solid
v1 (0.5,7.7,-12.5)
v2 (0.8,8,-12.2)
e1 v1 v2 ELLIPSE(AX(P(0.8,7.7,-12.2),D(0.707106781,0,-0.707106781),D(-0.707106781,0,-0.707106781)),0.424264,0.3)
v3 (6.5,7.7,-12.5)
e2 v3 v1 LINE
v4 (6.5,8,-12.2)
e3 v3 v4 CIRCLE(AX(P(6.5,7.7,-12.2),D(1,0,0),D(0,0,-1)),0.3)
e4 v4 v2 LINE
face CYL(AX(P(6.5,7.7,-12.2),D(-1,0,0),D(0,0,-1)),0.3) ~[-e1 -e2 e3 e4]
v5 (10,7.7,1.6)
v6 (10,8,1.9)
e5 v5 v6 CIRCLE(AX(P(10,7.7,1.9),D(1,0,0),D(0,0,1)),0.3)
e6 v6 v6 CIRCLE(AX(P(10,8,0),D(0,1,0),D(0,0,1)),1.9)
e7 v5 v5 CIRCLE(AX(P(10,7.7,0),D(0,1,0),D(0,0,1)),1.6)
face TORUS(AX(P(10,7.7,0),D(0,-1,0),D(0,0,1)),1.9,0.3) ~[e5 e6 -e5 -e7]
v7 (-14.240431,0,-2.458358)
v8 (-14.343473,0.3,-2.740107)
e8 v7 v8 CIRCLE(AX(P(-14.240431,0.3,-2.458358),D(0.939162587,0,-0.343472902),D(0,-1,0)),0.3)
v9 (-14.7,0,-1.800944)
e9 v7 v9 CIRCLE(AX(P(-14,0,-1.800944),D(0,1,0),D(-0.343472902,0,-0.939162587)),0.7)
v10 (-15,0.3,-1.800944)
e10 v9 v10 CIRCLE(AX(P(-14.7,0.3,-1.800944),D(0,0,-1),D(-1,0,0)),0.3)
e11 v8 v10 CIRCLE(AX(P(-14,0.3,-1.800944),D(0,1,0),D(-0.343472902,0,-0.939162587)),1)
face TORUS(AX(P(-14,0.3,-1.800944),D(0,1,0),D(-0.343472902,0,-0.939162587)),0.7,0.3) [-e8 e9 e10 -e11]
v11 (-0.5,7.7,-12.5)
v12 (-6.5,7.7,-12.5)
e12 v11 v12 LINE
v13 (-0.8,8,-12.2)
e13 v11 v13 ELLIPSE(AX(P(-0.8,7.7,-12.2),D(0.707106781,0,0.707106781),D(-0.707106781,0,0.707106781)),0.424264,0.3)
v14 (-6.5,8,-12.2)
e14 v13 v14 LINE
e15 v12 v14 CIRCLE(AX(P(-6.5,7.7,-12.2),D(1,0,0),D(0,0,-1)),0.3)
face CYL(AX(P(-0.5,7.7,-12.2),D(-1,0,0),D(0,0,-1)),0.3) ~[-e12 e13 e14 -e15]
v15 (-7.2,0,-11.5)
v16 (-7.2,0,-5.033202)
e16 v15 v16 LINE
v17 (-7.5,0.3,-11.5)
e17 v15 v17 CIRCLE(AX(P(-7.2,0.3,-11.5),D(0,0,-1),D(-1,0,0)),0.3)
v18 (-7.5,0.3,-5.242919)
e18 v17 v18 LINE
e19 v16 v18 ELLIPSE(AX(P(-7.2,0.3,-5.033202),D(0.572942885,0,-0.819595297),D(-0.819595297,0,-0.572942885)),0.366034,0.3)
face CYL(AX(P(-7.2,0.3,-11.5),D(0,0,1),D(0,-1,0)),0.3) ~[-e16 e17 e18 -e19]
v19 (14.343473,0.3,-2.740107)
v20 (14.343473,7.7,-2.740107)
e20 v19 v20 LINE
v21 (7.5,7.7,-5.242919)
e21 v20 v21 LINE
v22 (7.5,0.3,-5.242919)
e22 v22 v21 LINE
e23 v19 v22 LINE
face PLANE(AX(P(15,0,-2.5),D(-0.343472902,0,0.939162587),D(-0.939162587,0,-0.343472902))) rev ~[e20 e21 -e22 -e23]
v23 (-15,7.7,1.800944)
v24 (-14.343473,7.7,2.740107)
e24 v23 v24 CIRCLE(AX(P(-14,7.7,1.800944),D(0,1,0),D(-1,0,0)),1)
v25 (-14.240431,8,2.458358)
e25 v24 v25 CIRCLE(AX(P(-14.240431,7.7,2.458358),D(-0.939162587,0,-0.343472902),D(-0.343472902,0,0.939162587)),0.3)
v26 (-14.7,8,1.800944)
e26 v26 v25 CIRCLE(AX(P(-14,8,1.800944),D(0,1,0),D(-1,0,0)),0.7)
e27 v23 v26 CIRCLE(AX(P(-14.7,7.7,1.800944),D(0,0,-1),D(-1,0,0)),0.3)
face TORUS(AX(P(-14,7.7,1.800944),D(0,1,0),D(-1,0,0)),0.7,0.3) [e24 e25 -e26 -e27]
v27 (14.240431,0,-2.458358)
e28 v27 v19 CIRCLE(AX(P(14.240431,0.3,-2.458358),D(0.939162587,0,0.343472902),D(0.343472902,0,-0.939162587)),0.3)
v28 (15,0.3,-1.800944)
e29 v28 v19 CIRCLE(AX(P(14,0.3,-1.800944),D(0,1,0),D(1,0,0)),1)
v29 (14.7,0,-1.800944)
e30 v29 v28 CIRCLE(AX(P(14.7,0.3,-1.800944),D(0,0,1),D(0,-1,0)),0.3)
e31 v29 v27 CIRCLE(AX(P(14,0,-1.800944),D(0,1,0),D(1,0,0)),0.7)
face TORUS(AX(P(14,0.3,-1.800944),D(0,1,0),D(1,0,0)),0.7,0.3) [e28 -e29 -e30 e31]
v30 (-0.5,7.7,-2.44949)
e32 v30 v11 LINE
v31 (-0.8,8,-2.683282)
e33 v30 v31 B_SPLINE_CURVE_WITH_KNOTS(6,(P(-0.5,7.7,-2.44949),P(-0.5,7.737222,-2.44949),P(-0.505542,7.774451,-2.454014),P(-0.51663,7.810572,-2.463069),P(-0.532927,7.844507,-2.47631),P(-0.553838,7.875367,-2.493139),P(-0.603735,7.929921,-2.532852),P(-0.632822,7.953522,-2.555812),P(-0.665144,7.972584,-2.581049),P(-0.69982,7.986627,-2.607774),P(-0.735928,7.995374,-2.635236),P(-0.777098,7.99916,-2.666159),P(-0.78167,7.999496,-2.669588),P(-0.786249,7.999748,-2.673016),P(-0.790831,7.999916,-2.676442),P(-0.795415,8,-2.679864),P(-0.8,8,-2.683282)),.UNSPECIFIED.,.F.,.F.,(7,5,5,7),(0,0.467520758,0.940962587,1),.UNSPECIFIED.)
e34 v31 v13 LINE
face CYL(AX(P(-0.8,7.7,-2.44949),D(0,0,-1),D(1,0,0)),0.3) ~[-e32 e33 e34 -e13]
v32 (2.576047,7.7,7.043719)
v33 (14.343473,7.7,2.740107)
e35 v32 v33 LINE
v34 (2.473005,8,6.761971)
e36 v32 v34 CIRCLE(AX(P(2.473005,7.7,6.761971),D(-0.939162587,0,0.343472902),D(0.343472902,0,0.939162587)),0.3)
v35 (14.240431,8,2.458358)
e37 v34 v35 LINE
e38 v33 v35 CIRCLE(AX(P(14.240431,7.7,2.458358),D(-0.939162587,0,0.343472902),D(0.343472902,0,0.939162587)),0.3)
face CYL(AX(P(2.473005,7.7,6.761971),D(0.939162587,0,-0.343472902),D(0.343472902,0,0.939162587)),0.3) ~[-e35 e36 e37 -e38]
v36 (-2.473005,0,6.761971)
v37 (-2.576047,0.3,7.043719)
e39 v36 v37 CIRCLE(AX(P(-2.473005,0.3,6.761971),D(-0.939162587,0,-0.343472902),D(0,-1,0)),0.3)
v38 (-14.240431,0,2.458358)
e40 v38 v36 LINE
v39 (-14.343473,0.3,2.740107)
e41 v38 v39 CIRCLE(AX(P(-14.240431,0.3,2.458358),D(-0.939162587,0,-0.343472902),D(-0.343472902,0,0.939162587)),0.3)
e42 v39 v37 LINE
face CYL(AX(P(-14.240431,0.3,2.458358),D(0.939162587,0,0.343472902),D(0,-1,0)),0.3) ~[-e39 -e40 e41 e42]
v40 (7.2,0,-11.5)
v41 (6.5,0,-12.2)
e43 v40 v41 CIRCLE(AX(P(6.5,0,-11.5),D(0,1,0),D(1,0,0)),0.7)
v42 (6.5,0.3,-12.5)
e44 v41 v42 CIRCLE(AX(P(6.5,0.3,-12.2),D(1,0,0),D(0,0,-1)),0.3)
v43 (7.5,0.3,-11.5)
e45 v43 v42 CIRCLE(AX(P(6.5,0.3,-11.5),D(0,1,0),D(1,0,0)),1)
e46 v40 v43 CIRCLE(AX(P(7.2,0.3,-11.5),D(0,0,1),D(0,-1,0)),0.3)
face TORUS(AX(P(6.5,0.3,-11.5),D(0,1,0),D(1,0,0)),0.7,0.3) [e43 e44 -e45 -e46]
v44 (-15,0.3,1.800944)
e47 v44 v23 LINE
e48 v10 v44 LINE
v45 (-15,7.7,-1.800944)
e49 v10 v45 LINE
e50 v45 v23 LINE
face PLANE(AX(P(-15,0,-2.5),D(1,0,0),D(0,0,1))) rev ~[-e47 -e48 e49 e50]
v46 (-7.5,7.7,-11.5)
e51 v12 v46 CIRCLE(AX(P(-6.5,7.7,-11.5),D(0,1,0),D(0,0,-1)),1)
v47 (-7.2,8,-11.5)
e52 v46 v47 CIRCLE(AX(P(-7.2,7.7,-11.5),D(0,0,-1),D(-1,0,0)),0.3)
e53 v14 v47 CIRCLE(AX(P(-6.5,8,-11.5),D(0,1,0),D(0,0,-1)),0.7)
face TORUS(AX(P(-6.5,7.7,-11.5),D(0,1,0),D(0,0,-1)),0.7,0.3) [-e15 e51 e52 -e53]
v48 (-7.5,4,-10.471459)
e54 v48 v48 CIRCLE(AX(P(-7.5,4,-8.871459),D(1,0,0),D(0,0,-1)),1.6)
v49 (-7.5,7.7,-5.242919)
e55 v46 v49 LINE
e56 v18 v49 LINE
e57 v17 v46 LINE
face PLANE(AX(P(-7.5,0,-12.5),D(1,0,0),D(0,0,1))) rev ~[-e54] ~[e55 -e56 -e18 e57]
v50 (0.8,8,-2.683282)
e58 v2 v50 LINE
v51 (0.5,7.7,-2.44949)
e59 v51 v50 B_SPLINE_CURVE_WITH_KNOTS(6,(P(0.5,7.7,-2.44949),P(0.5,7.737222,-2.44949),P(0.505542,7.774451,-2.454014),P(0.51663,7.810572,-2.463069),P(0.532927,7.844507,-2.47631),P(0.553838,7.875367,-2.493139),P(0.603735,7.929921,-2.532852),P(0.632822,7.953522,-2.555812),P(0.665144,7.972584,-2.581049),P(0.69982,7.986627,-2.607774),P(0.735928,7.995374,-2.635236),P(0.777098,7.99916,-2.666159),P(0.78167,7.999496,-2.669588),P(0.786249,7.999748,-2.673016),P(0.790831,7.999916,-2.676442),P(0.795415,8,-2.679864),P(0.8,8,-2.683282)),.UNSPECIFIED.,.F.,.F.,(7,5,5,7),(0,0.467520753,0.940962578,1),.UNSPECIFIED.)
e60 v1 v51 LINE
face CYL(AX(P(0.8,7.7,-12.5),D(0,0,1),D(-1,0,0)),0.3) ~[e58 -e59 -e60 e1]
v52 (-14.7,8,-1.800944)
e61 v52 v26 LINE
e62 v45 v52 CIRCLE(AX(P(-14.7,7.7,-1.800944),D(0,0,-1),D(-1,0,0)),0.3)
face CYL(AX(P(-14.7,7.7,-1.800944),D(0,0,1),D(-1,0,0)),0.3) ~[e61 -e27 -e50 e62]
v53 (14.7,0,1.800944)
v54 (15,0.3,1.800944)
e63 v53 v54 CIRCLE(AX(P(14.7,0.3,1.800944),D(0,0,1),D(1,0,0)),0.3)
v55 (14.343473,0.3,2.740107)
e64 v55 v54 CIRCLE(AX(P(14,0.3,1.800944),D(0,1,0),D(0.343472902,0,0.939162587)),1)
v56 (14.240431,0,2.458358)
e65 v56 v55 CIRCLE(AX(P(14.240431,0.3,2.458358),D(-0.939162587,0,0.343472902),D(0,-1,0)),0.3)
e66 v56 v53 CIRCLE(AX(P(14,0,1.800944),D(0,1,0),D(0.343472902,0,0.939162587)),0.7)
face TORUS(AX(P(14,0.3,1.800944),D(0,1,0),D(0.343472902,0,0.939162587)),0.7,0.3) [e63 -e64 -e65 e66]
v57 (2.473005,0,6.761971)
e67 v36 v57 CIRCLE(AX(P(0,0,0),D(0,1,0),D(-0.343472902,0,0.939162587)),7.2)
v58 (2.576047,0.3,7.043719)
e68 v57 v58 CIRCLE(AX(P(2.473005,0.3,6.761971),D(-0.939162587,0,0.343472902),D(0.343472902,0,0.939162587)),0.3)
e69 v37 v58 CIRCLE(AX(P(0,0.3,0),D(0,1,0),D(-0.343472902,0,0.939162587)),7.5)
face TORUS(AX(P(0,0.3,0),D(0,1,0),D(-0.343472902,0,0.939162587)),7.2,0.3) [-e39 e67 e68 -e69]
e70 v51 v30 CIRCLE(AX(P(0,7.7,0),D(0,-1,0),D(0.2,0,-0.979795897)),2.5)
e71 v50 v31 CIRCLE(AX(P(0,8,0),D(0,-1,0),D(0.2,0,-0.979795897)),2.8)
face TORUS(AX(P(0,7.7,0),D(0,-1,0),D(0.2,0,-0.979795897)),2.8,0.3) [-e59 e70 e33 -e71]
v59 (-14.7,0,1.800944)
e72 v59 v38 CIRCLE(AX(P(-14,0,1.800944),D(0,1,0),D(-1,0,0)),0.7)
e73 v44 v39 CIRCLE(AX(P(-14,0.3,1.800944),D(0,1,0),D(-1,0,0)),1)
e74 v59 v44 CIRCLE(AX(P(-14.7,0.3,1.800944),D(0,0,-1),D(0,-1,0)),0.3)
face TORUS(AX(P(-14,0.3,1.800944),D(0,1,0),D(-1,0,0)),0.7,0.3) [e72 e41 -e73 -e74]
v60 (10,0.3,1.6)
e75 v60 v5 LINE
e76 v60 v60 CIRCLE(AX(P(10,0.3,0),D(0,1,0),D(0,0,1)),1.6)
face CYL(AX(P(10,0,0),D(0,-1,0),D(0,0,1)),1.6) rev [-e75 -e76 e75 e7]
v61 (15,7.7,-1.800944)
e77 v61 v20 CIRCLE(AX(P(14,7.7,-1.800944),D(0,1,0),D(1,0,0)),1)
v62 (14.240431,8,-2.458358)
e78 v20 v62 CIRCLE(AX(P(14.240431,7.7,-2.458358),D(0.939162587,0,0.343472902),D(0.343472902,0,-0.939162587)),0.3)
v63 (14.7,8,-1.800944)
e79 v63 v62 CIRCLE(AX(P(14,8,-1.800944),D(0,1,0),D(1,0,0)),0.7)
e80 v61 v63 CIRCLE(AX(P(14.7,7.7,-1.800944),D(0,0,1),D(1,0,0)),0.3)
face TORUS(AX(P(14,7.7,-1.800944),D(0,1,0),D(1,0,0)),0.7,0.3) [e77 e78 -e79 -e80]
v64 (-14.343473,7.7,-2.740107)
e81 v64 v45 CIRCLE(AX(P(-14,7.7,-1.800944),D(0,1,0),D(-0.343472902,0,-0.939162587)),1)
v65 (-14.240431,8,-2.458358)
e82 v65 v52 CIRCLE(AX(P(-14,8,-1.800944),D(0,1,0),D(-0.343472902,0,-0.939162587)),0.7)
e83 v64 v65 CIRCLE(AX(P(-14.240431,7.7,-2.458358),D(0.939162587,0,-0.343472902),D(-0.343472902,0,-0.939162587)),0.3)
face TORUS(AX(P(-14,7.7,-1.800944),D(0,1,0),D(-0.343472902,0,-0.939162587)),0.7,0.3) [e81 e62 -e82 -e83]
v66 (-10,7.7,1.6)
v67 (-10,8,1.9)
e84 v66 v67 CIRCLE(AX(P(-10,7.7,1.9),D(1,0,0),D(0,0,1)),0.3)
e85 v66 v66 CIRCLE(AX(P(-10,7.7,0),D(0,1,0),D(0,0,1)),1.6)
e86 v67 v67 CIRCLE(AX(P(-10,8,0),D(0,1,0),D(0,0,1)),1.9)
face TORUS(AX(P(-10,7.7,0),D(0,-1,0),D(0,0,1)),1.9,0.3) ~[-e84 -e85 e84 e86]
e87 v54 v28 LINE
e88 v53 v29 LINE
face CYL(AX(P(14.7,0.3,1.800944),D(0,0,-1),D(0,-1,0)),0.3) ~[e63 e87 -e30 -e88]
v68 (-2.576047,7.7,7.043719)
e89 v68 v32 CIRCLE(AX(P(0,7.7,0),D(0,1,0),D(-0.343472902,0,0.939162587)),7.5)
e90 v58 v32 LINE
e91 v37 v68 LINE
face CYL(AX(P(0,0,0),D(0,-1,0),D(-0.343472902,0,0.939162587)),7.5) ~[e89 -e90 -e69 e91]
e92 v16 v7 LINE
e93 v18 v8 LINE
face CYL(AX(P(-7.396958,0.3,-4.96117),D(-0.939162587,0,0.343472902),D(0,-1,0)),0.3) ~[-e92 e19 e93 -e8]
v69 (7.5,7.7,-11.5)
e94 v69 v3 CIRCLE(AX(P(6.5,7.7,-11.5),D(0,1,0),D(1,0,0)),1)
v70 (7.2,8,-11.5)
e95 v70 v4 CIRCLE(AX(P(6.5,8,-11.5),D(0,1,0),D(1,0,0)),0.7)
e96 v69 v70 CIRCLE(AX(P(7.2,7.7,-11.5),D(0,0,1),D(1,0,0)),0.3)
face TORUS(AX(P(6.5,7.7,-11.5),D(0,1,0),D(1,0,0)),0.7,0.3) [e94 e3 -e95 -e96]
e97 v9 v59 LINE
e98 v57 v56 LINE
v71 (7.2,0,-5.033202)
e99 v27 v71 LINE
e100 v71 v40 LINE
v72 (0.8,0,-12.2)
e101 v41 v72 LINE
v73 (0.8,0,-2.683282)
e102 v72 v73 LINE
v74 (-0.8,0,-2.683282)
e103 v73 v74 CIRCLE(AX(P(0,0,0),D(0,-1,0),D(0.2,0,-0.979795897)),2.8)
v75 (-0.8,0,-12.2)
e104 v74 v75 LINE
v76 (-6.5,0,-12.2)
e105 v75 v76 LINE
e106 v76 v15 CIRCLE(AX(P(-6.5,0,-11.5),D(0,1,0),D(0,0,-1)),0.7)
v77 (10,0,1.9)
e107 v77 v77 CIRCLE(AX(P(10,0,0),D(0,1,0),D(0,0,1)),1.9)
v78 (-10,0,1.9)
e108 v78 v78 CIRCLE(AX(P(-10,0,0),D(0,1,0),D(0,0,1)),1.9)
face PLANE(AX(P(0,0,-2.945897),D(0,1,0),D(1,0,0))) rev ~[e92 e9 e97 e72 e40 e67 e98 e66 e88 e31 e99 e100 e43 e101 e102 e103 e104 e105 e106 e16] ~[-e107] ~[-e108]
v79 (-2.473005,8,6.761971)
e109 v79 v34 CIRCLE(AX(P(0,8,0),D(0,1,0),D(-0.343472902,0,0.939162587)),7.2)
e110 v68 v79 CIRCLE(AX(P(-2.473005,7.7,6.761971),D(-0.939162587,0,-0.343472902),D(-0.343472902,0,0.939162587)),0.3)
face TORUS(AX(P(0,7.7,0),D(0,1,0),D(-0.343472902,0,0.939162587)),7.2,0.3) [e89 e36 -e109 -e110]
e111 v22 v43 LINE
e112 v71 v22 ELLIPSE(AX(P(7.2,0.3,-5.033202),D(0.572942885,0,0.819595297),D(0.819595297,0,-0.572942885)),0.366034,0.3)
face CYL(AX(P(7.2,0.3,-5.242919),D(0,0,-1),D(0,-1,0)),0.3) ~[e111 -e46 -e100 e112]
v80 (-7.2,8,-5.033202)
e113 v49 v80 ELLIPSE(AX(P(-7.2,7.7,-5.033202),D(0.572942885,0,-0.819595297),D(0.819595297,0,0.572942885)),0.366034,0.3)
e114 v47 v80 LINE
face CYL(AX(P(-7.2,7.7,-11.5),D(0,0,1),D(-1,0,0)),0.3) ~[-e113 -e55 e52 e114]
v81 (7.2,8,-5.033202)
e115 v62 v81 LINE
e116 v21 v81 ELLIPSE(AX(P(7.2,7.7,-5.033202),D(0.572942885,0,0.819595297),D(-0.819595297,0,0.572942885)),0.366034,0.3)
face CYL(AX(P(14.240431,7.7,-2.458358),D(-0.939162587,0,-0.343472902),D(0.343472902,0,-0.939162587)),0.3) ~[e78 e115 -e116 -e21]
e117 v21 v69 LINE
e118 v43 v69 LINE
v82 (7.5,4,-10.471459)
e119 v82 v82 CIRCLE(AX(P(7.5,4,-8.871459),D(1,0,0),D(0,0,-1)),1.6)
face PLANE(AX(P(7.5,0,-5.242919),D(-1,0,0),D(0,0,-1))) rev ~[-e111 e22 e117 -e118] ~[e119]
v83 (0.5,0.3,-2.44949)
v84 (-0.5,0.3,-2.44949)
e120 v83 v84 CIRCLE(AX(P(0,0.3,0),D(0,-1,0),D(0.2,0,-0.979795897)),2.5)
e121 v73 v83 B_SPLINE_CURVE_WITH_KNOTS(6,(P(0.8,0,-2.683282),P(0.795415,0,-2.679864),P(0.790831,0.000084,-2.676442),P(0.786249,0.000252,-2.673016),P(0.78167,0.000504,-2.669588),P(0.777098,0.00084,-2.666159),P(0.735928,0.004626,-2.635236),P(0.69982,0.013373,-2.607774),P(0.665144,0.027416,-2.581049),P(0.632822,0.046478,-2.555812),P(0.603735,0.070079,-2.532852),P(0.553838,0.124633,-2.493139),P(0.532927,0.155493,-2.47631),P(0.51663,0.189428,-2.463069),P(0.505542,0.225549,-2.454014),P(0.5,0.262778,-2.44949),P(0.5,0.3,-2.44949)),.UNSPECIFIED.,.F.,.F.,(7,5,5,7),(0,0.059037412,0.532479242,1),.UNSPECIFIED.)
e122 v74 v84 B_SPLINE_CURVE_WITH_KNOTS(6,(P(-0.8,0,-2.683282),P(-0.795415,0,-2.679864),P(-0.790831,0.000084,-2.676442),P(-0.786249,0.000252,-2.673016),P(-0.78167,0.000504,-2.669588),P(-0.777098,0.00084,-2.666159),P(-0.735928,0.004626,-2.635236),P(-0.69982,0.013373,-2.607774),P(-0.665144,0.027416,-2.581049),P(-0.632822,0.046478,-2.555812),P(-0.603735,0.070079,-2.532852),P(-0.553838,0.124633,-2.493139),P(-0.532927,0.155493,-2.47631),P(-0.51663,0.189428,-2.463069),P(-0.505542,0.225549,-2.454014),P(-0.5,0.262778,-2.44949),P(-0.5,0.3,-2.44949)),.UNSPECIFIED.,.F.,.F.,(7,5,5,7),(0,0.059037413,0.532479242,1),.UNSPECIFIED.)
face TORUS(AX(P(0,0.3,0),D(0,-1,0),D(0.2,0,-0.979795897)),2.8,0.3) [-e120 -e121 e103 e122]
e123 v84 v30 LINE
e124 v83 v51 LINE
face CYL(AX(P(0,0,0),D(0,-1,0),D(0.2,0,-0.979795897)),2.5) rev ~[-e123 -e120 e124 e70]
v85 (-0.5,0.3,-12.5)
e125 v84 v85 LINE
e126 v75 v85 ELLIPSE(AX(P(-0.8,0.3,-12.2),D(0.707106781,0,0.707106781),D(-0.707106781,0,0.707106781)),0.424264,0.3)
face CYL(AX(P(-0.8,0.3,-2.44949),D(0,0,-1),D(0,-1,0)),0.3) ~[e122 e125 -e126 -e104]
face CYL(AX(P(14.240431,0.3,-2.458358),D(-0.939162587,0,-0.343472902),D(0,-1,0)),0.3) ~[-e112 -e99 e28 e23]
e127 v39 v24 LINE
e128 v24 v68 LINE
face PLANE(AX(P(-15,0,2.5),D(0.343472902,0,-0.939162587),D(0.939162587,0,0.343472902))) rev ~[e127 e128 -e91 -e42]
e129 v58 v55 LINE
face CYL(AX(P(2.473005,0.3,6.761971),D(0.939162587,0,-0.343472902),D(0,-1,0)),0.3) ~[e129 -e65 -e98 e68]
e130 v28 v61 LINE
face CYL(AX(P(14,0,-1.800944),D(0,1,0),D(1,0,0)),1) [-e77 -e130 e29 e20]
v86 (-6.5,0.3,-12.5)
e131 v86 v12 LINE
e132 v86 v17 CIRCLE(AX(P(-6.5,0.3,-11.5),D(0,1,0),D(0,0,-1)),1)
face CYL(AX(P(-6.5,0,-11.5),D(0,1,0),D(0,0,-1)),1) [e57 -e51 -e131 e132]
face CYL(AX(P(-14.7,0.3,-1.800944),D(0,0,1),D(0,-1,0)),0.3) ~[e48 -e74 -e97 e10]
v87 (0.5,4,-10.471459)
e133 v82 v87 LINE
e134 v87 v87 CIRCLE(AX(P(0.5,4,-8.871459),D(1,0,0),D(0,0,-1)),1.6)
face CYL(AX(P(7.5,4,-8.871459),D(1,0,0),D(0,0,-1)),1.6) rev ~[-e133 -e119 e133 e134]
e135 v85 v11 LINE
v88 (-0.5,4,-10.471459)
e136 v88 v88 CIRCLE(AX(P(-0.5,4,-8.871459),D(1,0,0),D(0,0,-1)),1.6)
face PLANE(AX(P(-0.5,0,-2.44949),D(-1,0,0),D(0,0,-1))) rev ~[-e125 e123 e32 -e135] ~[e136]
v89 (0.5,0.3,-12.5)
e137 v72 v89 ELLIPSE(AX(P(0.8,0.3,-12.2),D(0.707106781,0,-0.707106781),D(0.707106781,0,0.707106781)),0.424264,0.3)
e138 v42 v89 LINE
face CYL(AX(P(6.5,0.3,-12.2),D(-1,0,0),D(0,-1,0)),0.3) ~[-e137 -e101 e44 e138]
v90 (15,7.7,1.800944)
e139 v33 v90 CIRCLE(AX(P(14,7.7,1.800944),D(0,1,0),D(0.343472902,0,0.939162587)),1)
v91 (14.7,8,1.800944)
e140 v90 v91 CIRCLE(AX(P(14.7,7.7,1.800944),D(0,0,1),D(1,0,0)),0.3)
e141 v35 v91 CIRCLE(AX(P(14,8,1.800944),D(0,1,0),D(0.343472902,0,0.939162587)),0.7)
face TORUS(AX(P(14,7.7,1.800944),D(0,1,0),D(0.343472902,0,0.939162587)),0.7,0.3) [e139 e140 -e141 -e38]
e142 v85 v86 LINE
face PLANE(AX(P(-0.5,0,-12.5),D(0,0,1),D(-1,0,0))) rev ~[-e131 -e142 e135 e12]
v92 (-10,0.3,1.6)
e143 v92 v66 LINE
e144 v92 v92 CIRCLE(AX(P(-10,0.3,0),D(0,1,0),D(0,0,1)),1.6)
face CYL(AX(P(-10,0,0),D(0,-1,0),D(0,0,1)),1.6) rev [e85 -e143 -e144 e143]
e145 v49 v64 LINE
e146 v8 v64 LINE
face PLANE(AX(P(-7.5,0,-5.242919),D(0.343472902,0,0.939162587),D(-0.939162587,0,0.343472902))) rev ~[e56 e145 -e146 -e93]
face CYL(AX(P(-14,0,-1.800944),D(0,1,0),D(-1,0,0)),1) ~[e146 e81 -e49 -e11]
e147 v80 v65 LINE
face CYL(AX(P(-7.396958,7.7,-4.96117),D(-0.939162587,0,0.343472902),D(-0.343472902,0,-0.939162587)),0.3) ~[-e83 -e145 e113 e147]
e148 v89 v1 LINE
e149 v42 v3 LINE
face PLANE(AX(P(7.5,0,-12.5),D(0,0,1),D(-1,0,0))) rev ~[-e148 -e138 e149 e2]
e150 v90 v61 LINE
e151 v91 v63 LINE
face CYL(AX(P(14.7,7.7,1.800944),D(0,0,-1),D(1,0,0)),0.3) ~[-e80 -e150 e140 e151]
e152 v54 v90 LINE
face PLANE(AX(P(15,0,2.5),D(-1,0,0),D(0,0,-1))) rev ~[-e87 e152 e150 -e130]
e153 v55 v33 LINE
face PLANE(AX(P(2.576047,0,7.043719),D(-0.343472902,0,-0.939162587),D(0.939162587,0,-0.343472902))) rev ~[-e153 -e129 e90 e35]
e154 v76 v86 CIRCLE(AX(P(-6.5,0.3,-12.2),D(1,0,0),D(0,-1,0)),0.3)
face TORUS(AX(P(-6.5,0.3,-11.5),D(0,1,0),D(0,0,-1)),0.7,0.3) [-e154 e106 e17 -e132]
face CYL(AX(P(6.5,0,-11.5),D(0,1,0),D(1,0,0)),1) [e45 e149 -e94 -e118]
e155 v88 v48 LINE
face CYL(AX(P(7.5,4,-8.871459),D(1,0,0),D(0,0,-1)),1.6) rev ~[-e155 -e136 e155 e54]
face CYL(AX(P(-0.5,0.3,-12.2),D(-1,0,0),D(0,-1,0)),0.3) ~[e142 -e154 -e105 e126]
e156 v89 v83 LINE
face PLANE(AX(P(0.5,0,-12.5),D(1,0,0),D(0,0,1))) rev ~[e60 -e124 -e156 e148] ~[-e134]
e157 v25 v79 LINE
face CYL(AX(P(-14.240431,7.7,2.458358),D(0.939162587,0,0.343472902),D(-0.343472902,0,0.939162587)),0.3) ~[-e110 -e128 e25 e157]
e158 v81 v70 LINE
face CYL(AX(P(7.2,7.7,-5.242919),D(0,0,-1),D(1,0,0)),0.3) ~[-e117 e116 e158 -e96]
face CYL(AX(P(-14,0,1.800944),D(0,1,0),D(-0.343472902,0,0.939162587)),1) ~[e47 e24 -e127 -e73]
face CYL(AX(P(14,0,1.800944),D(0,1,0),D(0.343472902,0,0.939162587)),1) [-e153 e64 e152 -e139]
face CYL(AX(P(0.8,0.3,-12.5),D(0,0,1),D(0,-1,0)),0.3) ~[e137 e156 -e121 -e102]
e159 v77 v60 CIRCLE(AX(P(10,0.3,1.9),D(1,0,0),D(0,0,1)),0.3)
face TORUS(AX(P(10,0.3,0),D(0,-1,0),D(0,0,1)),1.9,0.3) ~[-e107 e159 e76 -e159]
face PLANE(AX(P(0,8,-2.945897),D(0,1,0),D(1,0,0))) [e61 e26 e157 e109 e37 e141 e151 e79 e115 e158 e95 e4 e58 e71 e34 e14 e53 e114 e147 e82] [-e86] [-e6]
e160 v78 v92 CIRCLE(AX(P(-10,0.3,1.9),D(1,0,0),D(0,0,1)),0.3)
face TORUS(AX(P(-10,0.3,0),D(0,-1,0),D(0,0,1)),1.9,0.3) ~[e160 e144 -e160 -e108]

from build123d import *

# Parameters (mm, degrees)
CROQUIS_1_R             = 1.6
SALIENTE_EXTRUIR1_DEPTH = 8
REDONDEO1_R             = 1
REDONDEO2_R             = 1
CROQUIS_2_R             = 1.6
CORTE_EXTRUIR1_DEPTH    = 27.953663944
REDONDEO3_R             = 1
REDONDEO4_R             = 0.3


with BuildPart() as part:
    # Croquis 1 → Saliente-Extruir1 (new body)
    with BuildSketch(Plane(origin=(0, 0, 0), x_dir=(1, 0, 0), z_dir=(0, 1, 0))):
        with BuildLine():
            Line((-15, 2.5), (-15, -2.5))
            Line((-15, -2.5), (-2.576046766, -7.043719405))
            ThreePointArc((-2.576046766, -7.043719405), (0, -7.5), (2.576046766, -7.043719405))
            Line((2.576046766, -7.043719405), (15, -2.5))
            Line((15, -2.5), (15, 2.5))
            Line((15, 2.5), (7.5, 5.242918852))
            Line((7.5, 5.242918852), (7.5, 12.5))
            Line((7.5, 12.5), (0.5, 12.5))
            Line((0.5, 12.5), (0.5, 9.987492178))
            Line((0.5, 9.987492178), (0.5, 2.449489743))
            ThreePointArc((0.5, 2.449489743), (0, -2.5), (-0.5, 2.449489743))
            Line((-0.5, 2.449489743), (-0.5, 9.987492178))
            Line((-0.5, 9.987492178), (-0.5, 12.5))
            Line((-0.5, 12.5), (-7.5, 12.5))
            Line((-7.5, 12.5), (-7.5, 5.242918852))
            Line((-7.5, 5.242918852), (-15, 2.5))
        make_face()
        with Locations(Location((-10, 0, 0), (0, 0, 270))):
            Circle(CROQUIS_1_R, mode=Mode.SUBTRACT)
        with Locations(Location((10, 0, 0), (0, 0, 270))):
            Circle(CROQUIS_1_R, mode=Mode.SUBTRACT)
    extrude(amount=SALIENTE_EXTRUIR1_DEPTH)

    # Redondeo1
    redondeo1_edges = [part.edges().sort_by_distance(p)[0] for p in [
        (15, 4, 2.5),
    ]]
    fillet(redondeo1_edges, radius=REDONDEO1_R)

    # Redondeo2
    redondeo2_edges = [part.edges().sort_by_distance(p)[0] for p in [
        (15, 4, -2.5),
        (-15, 4, 2.5),
        (-15, 4, -2.5),
    ]]
    fillet(redondeo2_edges, radius=REDONDEO2_R)

    # Croquis 2 → Corte-Extruir1 (cut, through all)
    with BuildSketch(Plane(origin=(7.5, 0, 0), x_dir=(0, 0, -1), z_dir=(1, 0, 0))):
        with Locations((8.871459426, 4)):
            Circle(CROQUIS_2_R)
    extrude(amount=-CORTE_EXTRUIR1_DEPTH, mode=Mode.SUBTRACT)

    # Redondeo3
    redondeo3_edges = [part.edges().sort_by_distance(p)[0] for p in [
        (7.5, 4, -12.5),
        (-7.5, 4, -12.5),
    ]]
    fillet(redondeo3_edges, radius=REDONDEO3_R)

    # Redondeo4
    redondeo4_edges = [part.edges().sort_by_distance(p)[0] for p in [
        (-3.5, 8, -12.5),
        (0.5, 0, -7.474744871),
        (7.5, 0, -8.371459426),
        (8.459759834, 0, 4.891913073),
        (0, 0, 7.5),
        (-10.921736451, 0, -3.991512796),
        (-3.5, 0, -12.5),
        (-10.921736451, 8, -3.991512796),
        (-0.5, 0, -7.474744871),
        (0, 0, 2.5),
        (0, 8, 7.5),
        (8.459759834, 8, 4.891913073),
        (-10, 0, -1.6),
        (-10, 8, -1.6),
        (0, 8, 2.5),
        (7.5, 8, -8.371459426),
        (10, 0, -1.6),
        (10, 8, -1.6),
        (0.5, 8, -7.474744871),
        (15, 0, 0),
        (15, 8, 0),
        (14.819595297, 0, 2.373887038),
        (14.819595297, 8, 2.373887038),
        (-15, 0, 0),
        (-15, 8, 0),
        (-8.459759834, 0, 4.891913073),
        (10.921736451, 0, -3.991512796),
        (14.819595297, 0, -2.373887038),
        (-14.819595297, 0, 2.373887038),
        (-14.819595297, 0, -2.373887038),
        (10.921736451, 8, -3.991512796),
        (-8.459759834, 8, 4.891913073),
        (14.819595297, 8, -2.373887038),
        (-14.819595297, 8, 2.373887038),
        (-14.819595297, 8, -2.373887038),
        (-0.5, 8, -7.474744871),
        (3.5, 0, -12.5),
        (3.5, 8, -12.5),
        (-7.5, 0, -8.371459426),
        (-7.207106781, 0, -12.207106781),
        (7.207106781, 0, -12.207106781),
        (-7.5, 8, -8.371459426),
        (-7.207106781, 8, -12.207106781),
        (7.207106781, 8, -12.207106781),
    ]]
    fillet(redondeo4_edges, radius=REDONDEO4_R)


solid = part.part
